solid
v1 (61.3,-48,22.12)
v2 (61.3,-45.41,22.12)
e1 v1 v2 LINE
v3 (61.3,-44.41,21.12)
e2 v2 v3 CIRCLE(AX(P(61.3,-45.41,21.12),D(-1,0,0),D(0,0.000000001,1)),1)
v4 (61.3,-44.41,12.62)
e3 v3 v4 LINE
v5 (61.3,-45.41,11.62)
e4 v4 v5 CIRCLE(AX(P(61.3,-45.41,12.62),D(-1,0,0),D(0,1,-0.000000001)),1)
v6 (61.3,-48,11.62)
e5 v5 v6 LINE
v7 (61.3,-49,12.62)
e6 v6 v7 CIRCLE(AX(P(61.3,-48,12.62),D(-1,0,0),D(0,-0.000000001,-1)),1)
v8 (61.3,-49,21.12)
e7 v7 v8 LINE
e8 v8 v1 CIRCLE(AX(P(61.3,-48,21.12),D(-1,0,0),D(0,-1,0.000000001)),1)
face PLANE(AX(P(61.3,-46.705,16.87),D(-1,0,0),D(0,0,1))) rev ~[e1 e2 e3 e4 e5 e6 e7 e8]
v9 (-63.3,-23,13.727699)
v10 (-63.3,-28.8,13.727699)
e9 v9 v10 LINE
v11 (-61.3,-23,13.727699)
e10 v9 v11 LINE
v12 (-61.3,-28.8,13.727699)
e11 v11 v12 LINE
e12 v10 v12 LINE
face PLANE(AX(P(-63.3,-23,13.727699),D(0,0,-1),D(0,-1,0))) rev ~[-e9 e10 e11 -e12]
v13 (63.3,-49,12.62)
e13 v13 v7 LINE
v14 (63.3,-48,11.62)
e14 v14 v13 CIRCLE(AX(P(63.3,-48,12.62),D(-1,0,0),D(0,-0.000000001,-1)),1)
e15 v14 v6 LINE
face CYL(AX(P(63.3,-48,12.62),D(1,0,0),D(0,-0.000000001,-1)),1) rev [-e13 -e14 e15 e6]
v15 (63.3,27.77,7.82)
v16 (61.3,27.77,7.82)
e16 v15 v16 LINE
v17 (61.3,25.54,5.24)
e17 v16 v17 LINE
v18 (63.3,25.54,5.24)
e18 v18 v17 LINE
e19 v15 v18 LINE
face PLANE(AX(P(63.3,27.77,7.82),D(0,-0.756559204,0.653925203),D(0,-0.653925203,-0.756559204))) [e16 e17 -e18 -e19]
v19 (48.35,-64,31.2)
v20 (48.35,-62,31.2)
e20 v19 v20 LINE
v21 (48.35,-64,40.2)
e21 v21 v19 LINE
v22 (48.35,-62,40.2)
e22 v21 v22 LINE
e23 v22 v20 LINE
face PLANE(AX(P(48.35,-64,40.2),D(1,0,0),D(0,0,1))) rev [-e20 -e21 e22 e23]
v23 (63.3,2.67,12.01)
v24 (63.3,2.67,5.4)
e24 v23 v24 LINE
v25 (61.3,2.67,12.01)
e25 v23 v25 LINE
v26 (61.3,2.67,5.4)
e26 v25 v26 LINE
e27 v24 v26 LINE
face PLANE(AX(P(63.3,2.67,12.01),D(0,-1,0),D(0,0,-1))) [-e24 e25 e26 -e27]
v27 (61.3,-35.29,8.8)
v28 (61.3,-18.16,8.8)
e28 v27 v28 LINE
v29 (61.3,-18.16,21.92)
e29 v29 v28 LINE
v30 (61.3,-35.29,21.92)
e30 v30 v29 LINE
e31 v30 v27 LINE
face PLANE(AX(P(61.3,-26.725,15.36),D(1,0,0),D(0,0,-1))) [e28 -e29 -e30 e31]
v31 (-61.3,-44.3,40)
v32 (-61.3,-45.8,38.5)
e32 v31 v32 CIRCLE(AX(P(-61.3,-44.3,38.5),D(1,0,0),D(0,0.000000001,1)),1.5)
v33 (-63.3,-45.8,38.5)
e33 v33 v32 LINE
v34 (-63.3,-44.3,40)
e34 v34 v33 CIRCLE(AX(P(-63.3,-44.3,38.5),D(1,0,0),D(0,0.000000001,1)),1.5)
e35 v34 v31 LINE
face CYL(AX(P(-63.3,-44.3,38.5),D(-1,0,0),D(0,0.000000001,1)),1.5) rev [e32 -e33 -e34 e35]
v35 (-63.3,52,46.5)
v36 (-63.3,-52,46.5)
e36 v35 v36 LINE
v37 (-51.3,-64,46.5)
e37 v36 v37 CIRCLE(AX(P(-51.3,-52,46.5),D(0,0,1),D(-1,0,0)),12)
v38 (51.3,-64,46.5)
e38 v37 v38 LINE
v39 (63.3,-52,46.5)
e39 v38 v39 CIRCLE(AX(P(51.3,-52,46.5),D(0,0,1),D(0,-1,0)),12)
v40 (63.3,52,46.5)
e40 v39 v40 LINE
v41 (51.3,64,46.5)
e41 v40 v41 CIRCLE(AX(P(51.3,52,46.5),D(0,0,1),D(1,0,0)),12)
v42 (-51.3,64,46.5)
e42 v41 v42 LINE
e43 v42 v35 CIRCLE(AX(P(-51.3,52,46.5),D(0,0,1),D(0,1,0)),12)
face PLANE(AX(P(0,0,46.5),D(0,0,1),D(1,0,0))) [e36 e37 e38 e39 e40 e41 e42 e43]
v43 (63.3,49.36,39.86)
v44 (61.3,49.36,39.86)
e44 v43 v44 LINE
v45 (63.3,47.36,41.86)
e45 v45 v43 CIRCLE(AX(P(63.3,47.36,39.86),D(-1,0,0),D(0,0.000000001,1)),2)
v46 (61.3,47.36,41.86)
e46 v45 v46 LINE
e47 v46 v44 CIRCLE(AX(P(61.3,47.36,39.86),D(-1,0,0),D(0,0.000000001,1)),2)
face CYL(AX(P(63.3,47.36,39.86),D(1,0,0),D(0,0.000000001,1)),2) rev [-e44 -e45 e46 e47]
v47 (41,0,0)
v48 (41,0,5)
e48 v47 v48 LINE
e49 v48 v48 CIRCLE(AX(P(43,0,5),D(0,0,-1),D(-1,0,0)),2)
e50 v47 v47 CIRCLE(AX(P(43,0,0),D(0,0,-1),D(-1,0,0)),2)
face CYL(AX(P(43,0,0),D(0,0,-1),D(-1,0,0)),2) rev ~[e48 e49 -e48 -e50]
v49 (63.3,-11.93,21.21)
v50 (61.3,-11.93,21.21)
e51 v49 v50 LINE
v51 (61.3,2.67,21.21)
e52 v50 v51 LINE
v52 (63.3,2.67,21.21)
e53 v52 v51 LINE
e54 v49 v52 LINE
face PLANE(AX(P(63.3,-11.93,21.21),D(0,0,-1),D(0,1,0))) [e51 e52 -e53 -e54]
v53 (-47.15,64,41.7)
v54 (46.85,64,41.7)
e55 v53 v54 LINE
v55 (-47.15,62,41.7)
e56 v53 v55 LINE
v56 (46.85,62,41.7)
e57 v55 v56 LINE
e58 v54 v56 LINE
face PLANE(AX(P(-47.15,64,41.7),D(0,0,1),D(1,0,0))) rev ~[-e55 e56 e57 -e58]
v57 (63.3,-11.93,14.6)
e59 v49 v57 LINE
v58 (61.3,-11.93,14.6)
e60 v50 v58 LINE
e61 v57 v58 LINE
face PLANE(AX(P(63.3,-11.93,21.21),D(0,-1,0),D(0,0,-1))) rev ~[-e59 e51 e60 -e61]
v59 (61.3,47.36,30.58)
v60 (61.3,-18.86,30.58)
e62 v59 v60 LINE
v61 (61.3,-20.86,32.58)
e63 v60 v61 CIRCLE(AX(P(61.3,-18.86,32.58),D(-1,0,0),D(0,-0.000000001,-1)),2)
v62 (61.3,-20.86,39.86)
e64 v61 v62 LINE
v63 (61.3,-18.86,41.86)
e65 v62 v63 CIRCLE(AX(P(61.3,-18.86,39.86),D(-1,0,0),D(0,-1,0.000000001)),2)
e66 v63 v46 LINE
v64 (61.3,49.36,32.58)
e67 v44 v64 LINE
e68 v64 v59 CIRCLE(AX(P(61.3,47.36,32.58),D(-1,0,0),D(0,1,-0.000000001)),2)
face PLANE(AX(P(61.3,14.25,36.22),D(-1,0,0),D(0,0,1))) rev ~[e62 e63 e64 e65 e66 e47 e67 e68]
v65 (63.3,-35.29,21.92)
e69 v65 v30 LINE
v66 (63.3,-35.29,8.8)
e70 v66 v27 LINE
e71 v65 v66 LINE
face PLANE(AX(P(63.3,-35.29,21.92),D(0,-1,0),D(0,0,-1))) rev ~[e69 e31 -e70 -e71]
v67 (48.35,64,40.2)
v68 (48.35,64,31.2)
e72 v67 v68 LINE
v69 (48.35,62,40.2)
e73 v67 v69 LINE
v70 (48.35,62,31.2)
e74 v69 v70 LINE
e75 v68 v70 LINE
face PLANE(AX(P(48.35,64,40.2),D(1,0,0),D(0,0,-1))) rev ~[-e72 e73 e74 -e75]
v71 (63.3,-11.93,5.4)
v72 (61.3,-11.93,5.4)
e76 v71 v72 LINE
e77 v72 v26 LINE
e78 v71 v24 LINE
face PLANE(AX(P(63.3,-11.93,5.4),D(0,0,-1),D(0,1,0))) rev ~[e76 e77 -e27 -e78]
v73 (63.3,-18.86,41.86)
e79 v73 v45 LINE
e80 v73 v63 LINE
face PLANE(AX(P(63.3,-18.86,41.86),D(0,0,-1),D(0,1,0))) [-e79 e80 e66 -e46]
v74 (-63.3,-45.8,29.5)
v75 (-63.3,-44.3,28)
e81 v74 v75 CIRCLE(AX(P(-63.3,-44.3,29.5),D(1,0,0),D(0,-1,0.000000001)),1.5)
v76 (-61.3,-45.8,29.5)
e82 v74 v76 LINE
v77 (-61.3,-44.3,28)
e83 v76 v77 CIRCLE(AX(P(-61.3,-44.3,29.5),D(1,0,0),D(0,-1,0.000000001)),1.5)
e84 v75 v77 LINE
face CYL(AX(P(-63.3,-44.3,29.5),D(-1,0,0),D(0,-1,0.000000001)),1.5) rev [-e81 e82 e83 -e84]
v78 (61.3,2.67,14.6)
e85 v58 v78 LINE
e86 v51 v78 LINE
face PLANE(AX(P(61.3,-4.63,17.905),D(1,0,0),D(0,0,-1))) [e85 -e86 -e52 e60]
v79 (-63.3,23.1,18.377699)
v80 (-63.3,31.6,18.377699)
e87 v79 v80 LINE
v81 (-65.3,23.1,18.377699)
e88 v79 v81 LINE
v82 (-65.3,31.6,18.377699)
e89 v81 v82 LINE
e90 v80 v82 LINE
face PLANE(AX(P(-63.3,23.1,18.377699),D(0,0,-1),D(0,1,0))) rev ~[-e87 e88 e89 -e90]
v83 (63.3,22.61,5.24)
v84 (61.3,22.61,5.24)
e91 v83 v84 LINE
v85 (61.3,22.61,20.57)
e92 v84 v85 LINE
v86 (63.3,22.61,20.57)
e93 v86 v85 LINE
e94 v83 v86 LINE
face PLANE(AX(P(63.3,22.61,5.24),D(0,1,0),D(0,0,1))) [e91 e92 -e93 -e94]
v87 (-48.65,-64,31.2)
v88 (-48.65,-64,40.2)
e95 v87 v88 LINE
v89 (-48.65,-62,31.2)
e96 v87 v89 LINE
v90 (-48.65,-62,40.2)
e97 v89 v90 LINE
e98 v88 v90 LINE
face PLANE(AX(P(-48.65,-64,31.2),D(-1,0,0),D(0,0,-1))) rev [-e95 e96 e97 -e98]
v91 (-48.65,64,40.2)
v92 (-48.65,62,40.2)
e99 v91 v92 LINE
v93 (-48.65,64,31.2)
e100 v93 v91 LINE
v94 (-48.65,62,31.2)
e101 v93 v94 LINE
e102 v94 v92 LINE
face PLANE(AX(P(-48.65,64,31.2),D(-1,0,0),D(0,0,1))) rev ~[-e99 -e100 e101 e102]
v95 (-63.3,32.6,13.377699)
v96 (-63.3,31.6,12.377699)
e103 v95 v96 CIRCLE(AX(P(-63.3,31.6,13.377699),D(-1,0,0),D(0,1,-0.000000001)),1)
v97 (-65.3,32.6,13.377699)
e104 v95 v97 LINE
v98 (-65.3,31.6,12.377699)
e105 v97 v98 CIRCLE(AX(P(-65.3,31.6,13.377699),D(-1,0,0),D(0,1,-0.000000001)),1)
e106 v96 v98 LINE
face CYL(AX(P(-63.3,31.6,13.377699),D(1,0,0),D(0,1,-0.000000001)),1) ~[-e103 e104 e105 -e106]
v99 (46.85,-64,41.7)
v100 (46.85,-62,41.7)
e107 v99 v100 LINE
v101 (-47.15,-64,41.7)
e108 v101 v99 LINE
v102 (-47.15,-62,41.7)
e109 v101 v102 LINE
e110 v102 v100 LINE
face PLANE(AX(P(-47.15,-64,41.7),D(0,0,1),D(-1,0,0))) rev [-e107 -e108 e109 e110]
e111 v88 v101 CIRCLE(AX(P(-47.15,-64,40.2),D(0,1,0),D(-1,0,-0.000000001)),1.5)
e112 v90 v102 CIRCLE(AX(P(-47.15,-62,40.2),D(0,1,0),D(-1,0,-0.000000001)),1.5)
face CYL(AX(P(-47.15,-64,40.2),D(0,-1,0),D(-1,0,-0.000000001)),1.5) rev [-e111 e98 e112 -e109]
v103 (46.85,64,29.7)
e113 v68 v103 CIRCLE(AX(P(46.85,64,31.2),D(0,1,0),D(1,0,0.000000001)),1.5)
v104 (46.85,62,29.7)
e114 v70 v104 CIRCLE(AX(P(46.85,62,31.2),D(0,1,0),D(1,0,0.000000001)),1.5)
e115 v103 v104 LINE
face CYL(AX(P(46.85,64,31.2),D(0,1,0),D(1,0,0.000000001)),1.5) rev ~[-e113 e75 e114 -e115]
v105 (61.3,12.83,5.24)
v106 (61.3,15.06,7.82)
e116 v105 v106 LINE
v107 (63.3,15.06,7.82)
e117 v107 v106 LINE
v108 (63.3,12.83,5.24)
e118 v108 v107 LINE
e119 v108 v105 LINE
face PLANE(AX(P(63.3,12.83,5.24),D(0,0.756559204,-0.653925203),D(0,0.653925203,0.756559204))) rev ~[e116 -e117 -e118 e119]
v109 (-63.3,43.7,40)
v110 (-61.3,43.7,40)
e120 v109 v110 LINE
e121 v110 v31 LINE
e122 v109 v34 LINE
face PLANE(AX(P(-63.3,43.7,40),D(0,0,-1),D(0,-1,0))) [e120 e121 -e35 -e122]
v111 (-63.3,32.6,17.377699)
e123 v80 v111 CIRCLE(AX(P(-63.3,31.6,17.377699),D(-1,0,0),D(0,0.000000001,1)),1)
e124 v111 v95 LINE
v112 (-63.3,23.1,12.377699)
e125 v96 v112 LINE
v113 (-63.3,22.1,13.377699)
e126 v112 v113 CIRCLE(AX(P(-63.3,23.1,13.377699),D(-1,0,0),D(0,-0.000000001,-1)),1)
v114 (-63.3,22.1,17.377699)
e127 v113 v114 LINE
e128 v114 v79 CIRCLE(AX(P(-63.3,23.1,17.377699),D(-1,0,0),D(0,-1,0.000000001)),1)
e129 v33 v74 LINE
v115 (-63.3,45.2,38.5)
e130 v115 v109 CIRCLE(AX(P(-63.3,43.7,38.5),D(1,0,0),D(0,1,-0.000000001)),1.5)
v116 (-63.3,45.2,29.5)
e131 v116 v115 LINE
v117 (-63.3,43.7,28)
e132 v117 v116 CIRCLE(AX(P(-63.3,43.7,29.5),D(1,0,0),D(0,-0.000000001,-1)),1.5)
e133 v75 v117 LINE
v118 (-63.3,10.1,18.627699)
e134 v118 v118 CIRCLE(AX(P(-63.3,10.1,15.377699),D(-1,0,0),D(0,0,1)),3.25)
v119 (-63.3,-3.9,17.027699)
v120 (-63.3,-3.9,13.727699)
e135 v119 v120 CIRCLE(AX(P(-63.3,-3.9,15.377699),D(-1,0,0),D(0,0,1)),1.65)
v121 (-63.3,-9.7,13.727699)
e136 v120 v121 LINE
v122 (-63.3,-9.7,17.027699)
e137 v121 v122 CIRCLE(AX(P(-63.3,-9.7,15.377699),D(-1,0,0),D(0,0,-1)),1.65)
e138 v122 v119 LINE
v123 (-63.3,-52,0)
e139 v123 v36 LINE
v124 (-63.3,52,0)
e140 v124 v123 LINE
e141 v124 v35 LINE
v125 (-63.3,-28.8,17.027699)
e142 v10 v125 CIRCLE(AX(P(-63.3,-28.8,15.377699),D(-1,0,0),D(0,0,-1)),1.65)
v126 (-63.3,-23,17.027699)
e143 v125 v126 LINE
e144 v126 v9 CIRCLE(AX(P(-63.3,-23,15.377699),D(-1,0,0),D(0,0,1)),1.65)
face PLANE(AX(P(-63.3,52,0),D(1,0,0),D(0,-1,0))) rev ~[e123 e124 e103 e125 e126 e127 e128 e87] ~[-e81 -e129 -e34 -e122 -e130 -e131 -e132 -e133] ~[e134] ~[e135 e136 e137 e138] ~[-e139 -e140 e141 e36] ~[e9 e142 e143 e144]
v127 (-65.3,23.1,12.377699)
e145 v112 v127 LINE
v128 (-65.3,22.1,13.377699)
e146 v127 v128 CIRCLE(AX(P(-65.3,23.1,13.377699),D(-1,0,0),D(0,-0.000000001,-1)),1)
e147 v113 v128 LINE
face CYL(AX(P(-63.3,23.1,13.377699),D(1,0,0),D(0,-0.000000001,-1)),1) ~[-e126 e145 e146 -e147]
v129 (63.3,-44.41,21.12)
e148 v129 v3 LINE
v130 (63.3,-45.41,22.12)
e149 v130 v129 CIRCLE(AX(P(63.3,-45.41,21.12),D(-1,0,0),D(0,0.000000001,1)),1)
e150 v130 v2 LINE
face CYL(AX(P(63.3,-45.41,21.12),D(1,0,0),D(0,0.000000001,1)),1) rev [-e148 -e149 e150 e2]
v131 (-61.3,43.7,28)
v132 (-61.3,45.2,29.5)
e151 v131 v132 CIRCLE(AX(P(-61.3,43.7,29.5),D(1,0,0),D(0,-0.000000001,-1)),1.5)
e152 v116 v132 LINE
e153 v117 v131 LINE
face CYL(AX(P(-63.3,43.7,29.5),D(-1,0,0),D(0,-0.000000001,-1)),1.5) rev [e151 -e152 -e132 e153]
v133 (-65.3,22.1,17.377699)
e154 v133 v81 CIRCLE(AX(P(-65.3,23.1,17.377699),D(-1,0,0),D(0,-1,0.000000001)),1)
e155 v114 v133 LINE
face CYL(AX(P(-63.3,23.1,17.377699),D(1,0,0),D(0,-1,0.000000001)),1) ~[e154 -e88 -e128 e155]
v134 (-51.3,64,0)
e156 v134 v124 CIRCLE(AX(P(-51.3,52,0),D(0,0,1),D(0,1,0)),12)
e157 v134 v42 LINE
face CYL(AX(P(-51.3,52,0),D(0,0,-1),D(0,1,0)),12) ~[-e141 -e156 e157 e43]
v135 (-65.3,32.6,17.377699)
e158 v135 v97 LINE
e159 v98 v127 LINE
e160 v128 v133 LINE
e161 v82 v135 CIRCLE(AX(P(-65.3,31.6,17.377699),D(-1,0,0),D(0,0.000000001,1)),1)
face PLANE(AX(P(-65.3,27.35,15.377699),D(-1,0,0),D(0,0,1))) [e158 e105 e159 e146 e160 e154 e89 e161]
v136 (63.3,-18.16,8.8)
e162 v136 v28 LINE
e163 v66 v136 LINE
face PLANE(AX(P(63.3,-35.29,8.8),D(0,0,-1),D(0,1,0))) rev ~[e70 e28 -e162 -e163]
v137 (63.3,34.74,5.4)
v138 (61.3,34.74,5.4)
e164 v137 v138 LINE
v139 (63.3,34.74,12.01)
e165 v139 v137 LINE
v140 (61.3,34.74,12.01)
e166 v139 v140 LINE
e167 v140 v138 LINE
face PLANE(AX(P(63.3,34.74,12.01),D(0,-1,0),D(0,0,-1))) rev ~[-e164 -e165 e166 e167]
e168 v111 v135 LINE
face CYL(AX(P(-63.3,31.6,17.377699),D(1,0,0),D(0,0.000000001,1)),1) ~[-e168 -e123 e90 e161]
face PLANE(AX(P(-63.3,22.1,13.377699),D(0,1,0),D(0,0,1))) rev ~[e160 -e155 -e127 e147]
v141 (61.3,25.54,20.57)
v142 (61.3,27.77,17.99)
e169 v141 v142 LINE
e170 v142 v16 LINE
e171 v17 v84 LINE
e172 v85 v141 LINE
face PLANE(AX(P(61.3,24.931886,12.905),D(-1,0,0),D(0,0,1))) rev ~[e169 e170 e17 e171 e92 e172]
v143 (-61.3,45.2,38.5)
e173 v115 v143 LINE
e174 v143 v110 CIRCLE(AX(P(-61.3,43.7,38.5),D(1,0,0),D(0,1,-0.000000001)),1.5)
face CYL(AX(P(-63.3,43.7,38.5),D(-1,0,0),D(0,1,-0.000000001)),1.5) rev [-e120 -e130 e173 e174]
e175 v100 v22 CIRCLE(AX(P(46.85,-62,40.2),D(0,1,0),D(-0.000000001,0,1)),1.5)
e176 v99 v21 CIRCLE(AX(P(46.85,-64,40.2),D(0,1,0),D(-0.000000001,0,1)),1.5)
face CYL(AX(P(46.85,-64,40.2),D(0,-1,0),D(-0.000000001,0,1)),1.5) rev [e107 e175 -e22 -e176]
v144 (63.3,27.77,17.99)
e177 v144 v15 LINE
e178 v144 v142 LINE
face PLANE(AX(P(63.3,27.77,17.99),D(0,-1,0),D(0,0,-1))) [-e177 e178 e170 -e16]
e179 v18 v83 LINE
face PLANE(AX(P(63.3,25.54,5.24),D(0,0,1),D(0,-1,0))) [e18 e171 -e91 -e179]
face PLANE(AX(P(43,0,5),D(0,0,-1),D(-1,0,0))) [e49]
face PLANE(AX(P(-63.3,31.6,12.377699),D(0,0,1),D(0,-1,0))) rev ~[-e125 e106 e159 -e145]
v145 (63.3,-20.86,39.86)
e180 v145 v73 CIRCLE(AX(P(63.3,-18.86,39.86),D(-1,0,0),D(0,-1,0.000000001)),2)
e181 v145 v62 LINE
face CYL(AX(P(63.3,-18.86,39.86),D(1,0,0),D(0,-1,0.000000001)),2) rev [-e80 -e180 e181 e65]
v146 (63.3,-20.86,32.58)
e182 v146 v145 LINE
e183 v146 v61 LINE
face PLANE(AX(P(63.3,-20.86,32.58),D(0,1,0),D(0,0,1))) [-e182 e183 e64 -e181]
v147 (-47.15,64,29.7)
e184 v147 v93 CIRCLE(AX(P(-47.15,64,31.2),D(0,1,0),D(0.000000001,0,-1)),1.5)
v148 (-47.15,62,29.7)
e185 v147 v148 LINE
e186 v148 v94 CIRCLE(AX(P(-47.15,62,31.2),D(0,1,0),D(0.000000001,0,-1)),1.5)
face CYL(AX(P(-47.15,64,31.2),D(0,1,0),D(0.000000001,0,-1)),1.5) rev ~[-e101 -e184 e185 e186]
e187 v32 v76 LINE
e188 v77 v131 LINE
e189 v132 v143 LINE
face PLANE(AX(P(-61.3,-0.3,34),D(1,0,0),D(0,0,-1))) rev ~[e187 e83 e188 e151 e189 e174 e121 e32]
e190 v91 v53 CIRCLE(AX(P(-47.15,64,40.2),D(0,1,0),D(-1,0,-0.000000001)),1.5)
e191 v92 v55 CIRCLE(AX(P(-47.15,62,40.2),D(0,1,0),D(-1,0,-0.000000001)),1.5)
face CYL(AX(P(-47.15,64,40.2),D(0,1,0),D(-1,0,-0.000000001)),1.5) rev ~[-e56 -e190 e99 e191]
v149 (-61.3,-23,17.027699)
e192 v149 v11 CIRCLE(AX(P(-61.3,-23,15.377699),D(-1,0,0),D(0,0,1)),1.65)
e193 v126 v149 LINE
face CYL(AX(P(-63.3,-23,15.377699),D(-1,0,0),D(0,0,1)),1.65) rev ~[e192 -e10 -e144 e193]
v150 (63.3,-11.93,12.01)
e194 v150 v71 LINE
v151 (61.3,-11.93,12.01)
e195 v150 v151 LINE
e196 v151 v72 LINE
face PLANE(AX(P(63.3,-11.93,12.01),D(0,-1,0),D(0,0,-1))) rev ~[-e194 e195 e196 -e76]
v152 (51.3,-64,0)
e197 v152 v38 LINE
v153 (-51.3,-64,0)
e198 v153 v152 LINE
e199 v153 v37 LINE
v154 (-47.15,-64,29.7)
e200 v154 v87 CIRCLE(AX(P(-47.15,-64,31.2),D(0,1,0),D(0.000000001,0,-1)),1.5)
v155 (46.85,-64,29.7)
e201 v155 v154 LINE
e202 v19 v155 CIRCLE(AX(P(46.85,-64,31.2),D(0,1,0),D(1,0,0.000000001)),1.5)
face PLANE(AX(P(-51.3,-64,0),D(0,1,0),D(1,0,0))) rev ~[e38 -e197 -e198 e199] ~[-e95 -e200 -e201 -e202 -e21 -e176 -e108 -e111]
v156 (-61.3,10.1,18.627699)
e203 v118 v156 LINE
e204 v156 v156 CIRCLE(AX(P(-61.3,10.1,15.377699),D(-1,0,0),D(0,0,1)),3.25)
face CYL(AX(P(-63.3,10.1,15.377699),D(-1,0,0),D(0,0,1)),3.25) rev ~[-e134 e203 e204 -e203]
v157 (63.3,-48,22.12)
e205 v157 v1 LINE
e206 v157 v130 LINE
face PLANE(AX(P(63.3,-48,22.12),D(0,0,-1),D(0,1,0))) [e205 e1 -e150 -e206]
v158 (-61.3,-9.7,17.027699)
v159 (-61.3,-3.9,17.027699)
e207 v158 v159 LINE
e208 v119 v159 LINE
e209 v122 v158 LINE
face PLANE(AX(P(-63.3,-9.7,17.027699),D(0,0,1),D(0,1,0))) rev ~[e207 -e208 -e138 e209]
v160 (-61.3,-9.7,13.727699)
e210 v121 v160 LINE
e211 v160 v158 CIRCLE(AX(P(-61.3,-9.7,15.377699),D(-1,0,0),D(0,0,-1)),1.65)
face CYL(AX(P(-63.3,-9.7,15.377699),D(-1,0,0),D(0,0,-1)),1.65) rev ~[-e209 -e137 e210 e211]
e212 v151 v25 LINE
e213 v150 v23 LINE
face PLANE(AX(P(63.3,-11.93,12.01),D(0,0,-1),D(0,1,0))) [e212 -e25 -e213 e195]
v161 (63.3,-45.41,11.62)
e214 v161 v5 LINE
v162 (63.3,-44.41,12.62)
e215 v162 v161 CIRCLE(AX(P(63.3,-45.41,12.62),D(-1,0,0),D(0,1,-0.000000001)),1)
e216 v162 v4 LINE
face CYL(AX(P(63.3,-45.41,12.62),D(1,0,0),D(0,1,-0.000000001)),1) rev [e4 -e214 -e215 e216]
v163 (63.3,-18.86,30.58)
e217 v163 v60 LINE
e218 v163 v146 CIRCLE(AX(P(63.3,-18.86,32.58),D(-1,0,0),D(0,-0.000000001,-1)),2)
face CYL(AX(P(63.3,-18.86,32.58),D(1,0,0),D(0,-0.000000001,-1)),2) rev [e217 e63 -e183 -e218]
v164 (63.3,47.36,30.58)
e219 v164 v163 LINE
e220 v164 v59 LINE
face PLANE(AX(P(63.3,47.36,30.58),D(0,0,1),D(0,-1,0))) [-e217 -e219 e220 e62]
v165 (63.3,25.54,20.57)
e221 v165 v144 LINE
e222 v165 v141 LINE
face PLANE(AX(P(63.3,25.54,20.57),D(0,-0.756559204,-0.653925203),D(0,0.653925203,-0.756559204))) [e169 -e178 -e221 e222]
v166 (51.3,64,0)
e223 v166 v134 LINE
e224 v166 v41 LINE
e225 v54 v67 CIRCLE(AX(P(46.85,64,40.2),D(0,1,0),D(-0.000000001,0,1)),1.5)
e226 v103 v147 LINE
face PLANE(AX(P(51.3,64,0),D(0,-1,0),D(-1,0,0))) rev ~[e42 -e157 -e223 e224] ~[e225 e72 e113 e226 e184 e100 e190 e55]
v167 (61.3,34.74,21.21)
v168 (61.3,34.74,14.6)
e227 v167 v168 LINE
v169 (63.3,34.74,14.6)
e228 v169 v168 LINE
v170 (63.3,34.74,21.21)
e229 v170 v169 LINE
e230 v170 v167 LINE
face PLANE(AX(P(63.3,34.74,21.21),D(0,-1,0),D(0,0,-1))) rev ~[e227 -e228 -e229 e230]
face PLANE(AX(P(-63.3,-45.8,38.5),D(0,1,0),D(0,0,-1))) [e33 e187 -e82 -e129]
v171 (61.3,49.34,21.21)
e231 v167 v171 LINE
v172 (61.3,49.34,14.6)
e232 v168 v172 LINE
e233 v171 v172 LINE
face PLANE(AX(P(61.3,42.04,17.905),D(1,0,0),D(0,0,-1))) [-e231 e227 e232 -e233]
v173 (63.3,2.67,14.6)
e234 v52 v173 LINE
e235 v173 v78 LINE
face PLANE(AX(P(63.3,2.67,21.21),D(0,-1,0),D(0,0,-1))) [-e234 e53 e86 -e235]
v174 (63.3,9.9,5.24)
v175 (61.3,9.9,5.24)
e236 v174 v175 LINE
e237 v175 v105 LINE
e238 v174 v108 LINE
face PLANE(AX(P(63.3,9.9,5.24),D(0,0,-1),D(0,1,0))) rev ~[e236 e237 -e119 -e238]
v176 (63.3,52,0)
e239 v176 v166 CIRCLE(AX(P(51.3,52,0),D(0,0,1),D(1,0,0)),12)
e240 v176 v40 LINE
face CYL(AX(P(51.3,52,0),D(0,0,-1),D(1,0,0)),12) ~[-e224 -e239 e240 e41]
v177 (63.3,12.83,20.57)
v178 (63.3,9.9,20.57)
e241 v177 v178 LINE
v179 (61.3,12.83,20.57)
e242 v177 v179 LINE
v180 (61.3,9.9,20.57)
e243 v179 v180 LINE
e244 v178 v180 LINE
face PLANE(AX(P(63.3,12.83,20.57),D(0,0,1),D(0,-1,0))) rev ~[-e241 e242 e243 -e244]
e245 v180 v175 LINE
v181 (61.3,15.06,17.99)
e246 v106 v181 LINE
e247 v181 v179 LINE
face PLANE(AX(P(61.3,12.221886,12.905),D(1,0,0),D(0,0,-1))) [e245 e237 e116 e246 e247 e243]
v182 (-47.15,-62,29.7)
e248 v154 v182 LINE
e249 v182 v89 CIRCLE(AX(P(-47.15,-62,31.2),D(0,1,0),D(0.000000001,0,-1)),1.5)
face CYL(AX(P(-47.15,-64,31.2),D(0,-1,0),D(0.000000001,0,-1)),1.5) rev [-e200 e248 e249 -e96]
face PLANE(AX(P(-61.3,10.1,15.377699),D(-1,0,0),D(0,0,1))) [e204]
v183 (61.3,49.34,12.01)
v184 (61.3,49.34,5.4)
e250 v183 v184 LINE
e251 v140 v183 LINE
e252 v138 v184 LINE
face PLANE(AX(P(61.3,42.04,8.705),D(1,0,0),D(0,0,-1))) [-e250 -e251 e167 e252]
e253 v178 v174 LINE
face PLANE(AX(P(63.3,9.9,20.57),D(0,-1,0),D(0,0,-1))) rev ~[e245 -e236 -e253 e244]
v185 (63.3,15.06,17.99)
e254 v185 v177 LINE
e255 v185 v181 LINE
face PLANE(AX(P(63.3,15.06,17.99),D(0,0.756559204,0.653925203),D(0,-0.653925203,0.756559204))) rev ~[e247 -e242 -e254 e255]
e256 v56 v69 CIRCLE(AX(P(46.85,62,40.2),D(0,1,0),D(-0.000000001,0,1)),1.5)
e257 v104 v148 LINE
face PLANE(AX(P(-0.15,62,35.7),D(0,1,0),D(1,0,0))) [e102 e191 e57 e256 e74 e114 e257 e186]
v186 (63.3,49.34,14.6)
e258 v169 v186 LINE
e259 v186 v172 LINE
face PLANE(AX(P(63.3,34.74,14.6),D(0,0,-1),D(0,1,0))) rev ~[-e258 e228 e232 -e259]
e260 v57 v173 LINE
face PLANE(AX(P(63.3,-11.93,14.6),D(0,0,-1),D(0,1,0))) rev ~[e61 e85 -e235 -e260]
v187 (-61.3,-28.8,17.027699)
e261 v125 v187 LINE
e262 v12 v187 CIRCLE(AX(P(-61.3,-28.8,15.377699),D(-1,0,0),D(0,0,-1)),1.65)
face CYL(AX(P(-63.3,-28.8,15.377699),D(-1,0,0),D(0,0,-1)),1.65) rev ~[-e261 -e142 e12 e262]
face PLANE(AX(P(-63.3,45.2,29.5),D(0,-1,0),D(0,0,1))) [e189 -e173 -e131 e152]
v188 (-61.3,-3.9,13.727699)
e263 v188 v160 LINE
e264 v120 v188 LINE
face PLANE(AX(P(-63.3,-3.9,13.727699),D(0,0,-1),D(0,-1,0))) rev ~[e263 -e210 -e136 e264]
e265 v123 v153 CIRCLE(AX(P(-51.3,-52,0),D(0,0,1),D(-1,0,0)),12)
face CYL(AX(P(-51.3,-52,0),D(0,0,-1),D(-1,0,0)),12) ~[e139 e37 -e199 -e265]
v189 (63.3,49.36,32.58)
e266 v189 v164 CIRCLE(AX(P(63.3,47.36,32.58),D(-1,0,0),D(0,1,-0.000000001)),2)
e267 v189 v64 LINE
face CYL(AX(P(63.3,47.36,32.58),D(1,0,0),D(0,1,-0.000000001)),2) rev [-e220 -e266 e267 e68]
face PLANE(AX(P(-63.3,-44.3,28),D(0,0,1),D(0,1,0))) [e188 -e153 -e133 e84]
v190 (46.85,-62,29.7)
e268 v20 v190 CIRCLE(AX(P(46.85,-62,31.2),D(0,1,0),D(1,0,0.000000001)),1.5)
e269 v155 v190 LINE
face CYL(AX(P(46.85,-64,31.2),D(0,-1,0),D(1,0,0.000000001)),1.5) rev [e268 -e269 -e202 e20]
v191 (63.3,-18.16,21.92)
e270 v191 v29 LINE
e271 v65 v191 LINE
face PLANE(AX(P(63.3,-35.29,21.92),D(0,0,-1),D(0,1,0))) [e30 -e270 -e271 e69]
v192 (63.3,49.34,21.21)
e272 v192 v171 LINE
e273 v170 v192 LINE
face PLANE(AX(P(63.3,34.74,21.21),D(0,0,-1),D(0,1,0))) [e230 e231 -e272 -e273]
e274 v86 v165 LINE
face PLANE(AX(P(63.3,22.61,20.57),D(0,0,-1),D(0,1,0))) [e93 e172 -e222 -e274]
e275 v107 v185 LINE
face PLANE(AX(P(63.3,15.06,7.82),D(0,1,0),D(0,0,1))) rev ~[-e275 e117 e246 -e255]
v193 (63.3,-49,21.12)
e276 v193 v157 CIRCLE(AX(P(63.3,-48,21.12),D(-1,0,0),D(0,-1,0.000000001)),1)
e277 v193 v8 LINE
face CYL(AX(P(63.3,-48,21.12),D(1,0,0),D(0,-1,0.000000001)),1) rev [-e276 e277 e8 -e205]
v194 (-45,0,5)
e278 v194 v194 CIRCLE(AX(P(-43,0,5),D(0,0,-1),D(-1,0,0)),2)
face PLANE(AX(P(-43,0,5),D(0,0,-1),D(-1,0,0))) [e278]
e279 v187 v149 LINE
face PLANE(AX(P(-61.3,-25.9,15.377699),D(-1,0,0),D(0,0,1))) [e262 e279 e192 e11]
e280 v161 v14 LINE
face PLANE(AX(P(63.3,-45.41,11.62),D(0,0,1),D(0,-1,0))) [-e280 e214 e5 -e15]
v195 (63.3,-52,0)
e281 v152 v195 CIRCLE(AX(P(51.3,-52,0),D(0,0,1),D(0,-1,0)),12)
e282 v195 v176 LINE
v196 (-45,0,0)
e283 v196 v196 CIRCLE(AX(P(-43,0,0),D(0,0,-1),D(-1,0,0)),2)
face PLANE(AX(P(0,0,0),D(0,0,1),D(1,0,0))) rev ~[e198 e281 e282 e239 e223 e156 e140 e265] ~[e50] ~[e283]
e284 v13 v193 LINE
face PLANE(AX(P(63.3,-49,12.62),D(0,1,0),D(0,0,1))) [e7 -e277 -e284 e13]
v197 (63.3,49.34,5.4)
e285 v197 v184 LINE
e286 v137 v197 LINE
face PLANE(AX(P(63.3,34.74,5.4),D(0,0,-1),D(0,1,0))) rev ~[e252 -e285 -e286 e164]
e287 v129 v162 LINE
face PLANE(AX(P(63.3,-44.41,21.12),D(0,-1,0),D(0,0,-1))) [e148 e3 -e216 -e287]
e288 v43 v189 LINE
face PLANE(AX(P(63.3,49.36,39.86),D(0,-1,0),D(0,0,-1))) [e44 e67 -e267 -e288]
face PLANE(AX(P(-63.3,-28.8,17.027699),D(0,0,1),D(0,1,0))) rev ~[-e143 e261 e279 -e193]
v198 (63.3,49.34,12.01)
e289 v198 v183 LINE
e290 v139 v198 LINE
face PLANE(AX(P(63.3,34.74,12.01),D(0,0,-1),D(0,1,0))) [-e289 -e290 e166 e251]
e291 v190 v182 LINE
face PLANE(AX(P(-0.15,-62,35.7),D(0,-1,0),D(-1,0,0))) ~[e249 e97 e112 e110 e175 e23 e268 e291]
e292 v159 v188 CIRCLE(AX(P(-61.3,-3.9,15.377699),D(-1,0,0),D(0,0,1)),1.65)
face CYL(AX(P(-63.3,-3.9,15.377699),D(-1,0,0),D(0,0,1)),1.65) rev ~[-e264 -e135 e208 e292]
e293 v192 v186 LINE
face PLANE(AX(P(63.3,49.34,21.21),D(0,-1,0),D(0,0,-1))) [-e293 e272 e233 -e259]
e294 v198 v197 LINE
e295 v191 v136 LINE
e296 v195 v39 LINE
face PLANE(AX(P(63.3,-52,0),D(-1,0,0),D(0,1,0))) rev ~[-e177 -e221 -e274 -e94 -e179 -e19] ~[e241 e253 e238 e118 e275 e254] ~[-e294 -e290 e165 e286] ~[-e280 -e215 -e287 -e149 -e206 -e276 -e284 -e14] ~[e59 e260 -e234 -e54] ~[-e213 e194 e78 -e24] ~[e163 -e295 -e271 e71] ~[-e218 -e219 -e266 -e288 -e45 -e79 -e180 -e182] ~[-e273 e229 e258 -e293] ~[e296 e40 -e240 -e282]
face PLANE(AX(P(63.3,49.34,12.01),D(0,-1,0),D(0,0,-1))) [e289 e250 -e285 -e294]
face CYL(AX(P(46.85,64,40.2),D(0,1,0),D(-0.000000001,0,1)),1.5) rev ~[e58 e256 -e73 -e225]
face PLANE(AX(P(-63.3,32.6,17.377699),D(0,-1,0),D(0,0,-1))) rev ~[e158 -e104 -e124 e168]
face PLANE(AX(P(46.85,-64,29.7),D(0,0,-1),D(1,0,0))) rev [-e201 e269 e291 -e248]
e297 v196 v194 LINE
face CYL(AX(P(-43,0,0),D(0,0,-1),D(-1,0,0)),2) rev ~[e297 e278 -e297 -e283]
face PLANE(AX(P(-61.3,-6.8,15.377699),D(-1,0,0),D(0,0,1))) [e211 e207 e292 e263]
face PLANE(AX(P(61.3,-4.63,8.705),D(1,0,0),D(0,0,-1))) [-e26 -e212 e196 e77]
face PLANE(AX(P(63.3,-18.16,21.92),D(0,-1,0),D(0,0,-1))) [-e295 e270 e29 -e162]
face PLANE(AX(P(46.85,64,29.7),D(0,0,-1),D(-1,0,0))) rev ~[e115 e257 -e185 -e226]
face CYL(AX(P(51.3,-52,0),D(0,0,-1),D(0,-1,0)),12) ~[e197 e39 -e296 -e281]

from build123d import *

# Parameters (mm, degrees)
DODANIE_WYCI_GNI_CIE1_DEPTH = 46.5
WYTNIJ_WYCI_GNI_CIE1_DEPTH  = 2
SZKIC3_R                    = 3.25
WYTNIJ_WYCI_GNI_CIE2_DEPTH  = 2
DODANIE_WYCI_GNI_CIE2_DEPTH = 2
SZKIC5_W                    = 6.61
SZKIC5_H                    = 14.6
SZKIC5_W_2                  = 13.12
SZKIC5_H_2                  = 17.13
WYTNIJ_WYCI_GNI_CIE3_DEPTH  = 2
SKETCH1_R                   = 2
CUT_EXTRUDE1_DEPTH          = 5


with BuildPart() as part:
    # Szkic1 → Dodanie-wyciągnięcie1 (new body)
    with BuildSketch(Plane.XY):
        with BuildLine():
            Line((-51.3, -64), (51.3, -64))
            ThreePointArc((51.3, -64), (59.785281374, -60.485281374), (63.3, -52))
            Line((63.3, -52), (63.3, 52))
            ThreePointArc((63.3, 52), (59.785281374, 60.485281374), (51.3, 64))
            Line((51.3, 64), (-51.3, 64))
            ThreePointArc((-51.3, 64), (-59.785281374, 60.485281374), (-63.3, 52))
            Line((-63.3, 52), (-63.3, -52))
            ThreePointArc((-63.3, -52), (-59.785281374, -60.485281374), (-51.3, -64))
        make_face()
    extrude(amount=DODANIE_WYCI_GNI_CIE1_DEPTH)

    # Szkic2 → Wytnij-wyciągnięcie1 (cut)
    with BuildSketch(Plane(origin=(0, 64, 0), x_dir=(1, 0, 0), z_dir=(0, 1, 0))):
        with BuildLine():
            Line((-48.65, -31.2), (-48.65, -40.2))
            ThreePointArc((-48.65, -40.2), (-48.210660172, -41.260660172), (-47.15, -41.7))
            Line((-47.15, -41.7), (46.85, -41.7))
            ThreePointArc((46.85, -41.7), (47.910660172, -41.260660172), (48.35, -40.2))
            Line((48.35, -40.2), (48.35, -31.2))
            ThreePointArc((48.35, -31.2), (47.910660172, -30.139339828), (46.85, -29.7))
            Line((46.85, -29.7), (-47.15, -29.7))
            ThreePointArc((-47.15, -29.7), (-48.210660172, -30.139339828), (-48.65, -31.2))
        make_face()
    wytnij_wyci_gni_cie1 = extrude(amount=-WYTNIJ_WYCI_GNI_CIE1_DEPTH, mode=Mode.SUBTRACT)

    # Szkic3 → Wytnij-wyciągnięcie2 (cut)
    with BuildSketch(Plane.ZY.offset(63.3)):
        with BuildLine():
            ThreePointArc((28, -44.3), (28.439339828, -45.360660172), (29.5, -45.8))
            Line((29.5, -45.8), (38.5, -45.8))
            ThreePointArc((38.5, -45.8), (39.560660172, -45.360660172), (40, -44.3))
            Line((40, -44.3), (40, 43.7))
            ThreePointArc((40, 43.7), (39.560660172, 44.760660172), (38.5, 45.2))
            Line((38.5, 45.2), (29.5, 45.2))
            ThreePointArc((29.5, 45.2), (28.439339828, 44.760660172), (28, 43.7))
            Line((28, 43.7), (28, -44.3))
        make_face()
        with BuildLine():
            Line((17.02769909, -28.8), (17.02769909, -23))
            ThreePointArc((17.02769909, -23), (15.37769909, -21.35), (13.72769909, -23))
            Line((13.72769909, -23), (13.72769909, -28.8))
            ThreePointArc((13.72769909, -28.8), (15.37769909, -30.45), (17.02769909, -28.8))
        make_face()
        with BuildLine():
            Line((17.02769909, -9.7), (17.02769909, -3.9))
            ThreePointArc((17.02769909, -3.9), (15.37769909, -2.25), (13.72769909, -3.9))
            Line((13.72769909, -3.9), (13.72769909, -9.7))
            ThreePointArc((13.72769909, -9.7), (15.37769909, -11.35), (17.02769909, -9.7))
        make_face()
        with Locations((15.37769909, 10.1)):
            Circle(SZKIC3_R)
    extrude(amount=-WYTNIJ_WYCI_GNI_CIE2_DEPTH, mode=Mode.SUBTRACT)

    # Szkic3<3> → Dodanie-wyciągnięcie2 (add)
    with BuildSketch(Plane.ZY.offset(63.3)):
        with BuildLine():
            Line((17.37769909, 32.6), (13.37769909, 32.6))
            ThreePointArc((13.37769909, 32.6), (12.670592309, 32.307106781), (12.37769909, 31.6))
            Line((12.37769909, 31.6), (12.37769909, 23.1))
            ThreePointArc((12.37769909, 23.1), (12.670592309, 22.392893219), (13.37769909, 22.1))
            Line((13.37769909, 22.1), (17.37769909, 22.1))
            ThreePointArc((17.37769909, 22.1), (18.084805871, 22.392893219), (18.37769909, 23.1))
            Line((18.37769909, 23.1), (18.37769909, 31.6))
            ThreePointArc((18.37769909, 31.6), (18.084805871, 32.307106781), (17.37769909, 32.6))
        make_face()
    extrude(amount=DODANIE_WYCI_GNI_CIE2_DEPTH)

    # Lustro1: Wytnij-wyciągnięcie1 across plane
    add(wytnij_wyci_gni_cie1.mirror(Plane.ZX), mode=Mode.SUBTRACT)

    # Szkic5 → Wytnij-wyciągnięcie3 (cut)
    with BuildSketch(Plane(origin=(63.3, 0, 0), x_dir=(0, 0, -1), z_dir=(1, 0, 0))):
        with BuildLine():
            Line((-39.86, 49.36), (-32.58, 49.36))
            ThreePointArc((-32.58, 49.36), (-31.165786438, 48.774213562), (-30.58, 47.36))
            Line((-30.58, 47.36), (-30.58, -18.86))
            ThreePointArc((-30.58, -18.86), (-31.165786438, -20.274213562), (-32.58, -20.86))
            Line((-32.58, -20.86), (-39.86, -20.86))
            ThreePointArc((-39.86, -20.86), (-41.274213562, -20.274213562), (-41.86, -18.86))
            Line((-41.86, -18.86), (-41.86, 47.36))
            ThreePointArc((-41.86, 47.36), (-41.274213562, 48.774213562), (-39.86, 49.36))
        make_face()
        with BuildLine():
            Line((-21.12, -44.41), (-12.62, -44.41))
            ThreePointArc((-12.62, -44.41), (-11.912893219, -44.702893219), (-11.62, -45.41))
            Line((-11.62, -45.41), (-11.62, -48))
            ThreePointArc((-11.62, -48), (-11.912893219, -48.707106781), (-12.62, -49))
            Line((-12.62, -49), (-21.12, -49))
            ThreePointArc((-21.12, -49), (-21.827106781, -48.707106781), (-22.12, -48))
            Line((-22.12, -48), (-22.12, -45.41))
            ThreePointArc((-22.12, -45.41), (-21.827106781, -44.702893219), (-21.12, -44.41))
        make_face()
        with Locations((-8.705, -4.63)):
            Rectangle(SZKIC5_W, SZKIC5_H)
        with Locations((-15.36, -26.725)):
            Rectangle(SZKIC5_W_2, SZKIC5_H_2)
        with Locations((-17.905, -4.63)):
            Rectangle(SZKIC5_W, SZKIC5_H)
        Polygon((-20.57, 9.9), (-5.24, 9.9), (-5.24, 12.83), (-7.82, 15.06), (-17.99, 15.06), (-20.57, 12.83), align=None)
        Polygon((-7.82, 27.77), (-5.24, 25.54), (-5.24, 22.61), (-20.57, 22.61), (-20.57, 25.54), (-17.99, 27.77), align=None)
        with Locations((-17.905, 42.04)):
            Rectangle(SZKIC5_W, SZKIC5_H)
        with Locations((-8.705, 42.04)):
            Rectangle(SZKIC5_W, SZKIC5_H)
    extrude(amount=-WYTNIJ_WYCI_GNI_CIE3_DEPTH, mode=Mode.SUBTRACT)

    # Sketch1 → Cut-Extrude1 (cut)
    with BuildSketch(Plane(origin=(0, 0, 0), x_dir=(-1, 0, 0), z_dir=(0, 0, -1))):
        with Locations((-43, 0)):
            Circle(SKETCH1_R)
        with Locations((43, 0)):
            Circle(SKETCH1_R)
    extrude(amount=-CUT_EXTRUDE1_DEPTH, mode=Mode.SUBTRACT)


solid = part.part
